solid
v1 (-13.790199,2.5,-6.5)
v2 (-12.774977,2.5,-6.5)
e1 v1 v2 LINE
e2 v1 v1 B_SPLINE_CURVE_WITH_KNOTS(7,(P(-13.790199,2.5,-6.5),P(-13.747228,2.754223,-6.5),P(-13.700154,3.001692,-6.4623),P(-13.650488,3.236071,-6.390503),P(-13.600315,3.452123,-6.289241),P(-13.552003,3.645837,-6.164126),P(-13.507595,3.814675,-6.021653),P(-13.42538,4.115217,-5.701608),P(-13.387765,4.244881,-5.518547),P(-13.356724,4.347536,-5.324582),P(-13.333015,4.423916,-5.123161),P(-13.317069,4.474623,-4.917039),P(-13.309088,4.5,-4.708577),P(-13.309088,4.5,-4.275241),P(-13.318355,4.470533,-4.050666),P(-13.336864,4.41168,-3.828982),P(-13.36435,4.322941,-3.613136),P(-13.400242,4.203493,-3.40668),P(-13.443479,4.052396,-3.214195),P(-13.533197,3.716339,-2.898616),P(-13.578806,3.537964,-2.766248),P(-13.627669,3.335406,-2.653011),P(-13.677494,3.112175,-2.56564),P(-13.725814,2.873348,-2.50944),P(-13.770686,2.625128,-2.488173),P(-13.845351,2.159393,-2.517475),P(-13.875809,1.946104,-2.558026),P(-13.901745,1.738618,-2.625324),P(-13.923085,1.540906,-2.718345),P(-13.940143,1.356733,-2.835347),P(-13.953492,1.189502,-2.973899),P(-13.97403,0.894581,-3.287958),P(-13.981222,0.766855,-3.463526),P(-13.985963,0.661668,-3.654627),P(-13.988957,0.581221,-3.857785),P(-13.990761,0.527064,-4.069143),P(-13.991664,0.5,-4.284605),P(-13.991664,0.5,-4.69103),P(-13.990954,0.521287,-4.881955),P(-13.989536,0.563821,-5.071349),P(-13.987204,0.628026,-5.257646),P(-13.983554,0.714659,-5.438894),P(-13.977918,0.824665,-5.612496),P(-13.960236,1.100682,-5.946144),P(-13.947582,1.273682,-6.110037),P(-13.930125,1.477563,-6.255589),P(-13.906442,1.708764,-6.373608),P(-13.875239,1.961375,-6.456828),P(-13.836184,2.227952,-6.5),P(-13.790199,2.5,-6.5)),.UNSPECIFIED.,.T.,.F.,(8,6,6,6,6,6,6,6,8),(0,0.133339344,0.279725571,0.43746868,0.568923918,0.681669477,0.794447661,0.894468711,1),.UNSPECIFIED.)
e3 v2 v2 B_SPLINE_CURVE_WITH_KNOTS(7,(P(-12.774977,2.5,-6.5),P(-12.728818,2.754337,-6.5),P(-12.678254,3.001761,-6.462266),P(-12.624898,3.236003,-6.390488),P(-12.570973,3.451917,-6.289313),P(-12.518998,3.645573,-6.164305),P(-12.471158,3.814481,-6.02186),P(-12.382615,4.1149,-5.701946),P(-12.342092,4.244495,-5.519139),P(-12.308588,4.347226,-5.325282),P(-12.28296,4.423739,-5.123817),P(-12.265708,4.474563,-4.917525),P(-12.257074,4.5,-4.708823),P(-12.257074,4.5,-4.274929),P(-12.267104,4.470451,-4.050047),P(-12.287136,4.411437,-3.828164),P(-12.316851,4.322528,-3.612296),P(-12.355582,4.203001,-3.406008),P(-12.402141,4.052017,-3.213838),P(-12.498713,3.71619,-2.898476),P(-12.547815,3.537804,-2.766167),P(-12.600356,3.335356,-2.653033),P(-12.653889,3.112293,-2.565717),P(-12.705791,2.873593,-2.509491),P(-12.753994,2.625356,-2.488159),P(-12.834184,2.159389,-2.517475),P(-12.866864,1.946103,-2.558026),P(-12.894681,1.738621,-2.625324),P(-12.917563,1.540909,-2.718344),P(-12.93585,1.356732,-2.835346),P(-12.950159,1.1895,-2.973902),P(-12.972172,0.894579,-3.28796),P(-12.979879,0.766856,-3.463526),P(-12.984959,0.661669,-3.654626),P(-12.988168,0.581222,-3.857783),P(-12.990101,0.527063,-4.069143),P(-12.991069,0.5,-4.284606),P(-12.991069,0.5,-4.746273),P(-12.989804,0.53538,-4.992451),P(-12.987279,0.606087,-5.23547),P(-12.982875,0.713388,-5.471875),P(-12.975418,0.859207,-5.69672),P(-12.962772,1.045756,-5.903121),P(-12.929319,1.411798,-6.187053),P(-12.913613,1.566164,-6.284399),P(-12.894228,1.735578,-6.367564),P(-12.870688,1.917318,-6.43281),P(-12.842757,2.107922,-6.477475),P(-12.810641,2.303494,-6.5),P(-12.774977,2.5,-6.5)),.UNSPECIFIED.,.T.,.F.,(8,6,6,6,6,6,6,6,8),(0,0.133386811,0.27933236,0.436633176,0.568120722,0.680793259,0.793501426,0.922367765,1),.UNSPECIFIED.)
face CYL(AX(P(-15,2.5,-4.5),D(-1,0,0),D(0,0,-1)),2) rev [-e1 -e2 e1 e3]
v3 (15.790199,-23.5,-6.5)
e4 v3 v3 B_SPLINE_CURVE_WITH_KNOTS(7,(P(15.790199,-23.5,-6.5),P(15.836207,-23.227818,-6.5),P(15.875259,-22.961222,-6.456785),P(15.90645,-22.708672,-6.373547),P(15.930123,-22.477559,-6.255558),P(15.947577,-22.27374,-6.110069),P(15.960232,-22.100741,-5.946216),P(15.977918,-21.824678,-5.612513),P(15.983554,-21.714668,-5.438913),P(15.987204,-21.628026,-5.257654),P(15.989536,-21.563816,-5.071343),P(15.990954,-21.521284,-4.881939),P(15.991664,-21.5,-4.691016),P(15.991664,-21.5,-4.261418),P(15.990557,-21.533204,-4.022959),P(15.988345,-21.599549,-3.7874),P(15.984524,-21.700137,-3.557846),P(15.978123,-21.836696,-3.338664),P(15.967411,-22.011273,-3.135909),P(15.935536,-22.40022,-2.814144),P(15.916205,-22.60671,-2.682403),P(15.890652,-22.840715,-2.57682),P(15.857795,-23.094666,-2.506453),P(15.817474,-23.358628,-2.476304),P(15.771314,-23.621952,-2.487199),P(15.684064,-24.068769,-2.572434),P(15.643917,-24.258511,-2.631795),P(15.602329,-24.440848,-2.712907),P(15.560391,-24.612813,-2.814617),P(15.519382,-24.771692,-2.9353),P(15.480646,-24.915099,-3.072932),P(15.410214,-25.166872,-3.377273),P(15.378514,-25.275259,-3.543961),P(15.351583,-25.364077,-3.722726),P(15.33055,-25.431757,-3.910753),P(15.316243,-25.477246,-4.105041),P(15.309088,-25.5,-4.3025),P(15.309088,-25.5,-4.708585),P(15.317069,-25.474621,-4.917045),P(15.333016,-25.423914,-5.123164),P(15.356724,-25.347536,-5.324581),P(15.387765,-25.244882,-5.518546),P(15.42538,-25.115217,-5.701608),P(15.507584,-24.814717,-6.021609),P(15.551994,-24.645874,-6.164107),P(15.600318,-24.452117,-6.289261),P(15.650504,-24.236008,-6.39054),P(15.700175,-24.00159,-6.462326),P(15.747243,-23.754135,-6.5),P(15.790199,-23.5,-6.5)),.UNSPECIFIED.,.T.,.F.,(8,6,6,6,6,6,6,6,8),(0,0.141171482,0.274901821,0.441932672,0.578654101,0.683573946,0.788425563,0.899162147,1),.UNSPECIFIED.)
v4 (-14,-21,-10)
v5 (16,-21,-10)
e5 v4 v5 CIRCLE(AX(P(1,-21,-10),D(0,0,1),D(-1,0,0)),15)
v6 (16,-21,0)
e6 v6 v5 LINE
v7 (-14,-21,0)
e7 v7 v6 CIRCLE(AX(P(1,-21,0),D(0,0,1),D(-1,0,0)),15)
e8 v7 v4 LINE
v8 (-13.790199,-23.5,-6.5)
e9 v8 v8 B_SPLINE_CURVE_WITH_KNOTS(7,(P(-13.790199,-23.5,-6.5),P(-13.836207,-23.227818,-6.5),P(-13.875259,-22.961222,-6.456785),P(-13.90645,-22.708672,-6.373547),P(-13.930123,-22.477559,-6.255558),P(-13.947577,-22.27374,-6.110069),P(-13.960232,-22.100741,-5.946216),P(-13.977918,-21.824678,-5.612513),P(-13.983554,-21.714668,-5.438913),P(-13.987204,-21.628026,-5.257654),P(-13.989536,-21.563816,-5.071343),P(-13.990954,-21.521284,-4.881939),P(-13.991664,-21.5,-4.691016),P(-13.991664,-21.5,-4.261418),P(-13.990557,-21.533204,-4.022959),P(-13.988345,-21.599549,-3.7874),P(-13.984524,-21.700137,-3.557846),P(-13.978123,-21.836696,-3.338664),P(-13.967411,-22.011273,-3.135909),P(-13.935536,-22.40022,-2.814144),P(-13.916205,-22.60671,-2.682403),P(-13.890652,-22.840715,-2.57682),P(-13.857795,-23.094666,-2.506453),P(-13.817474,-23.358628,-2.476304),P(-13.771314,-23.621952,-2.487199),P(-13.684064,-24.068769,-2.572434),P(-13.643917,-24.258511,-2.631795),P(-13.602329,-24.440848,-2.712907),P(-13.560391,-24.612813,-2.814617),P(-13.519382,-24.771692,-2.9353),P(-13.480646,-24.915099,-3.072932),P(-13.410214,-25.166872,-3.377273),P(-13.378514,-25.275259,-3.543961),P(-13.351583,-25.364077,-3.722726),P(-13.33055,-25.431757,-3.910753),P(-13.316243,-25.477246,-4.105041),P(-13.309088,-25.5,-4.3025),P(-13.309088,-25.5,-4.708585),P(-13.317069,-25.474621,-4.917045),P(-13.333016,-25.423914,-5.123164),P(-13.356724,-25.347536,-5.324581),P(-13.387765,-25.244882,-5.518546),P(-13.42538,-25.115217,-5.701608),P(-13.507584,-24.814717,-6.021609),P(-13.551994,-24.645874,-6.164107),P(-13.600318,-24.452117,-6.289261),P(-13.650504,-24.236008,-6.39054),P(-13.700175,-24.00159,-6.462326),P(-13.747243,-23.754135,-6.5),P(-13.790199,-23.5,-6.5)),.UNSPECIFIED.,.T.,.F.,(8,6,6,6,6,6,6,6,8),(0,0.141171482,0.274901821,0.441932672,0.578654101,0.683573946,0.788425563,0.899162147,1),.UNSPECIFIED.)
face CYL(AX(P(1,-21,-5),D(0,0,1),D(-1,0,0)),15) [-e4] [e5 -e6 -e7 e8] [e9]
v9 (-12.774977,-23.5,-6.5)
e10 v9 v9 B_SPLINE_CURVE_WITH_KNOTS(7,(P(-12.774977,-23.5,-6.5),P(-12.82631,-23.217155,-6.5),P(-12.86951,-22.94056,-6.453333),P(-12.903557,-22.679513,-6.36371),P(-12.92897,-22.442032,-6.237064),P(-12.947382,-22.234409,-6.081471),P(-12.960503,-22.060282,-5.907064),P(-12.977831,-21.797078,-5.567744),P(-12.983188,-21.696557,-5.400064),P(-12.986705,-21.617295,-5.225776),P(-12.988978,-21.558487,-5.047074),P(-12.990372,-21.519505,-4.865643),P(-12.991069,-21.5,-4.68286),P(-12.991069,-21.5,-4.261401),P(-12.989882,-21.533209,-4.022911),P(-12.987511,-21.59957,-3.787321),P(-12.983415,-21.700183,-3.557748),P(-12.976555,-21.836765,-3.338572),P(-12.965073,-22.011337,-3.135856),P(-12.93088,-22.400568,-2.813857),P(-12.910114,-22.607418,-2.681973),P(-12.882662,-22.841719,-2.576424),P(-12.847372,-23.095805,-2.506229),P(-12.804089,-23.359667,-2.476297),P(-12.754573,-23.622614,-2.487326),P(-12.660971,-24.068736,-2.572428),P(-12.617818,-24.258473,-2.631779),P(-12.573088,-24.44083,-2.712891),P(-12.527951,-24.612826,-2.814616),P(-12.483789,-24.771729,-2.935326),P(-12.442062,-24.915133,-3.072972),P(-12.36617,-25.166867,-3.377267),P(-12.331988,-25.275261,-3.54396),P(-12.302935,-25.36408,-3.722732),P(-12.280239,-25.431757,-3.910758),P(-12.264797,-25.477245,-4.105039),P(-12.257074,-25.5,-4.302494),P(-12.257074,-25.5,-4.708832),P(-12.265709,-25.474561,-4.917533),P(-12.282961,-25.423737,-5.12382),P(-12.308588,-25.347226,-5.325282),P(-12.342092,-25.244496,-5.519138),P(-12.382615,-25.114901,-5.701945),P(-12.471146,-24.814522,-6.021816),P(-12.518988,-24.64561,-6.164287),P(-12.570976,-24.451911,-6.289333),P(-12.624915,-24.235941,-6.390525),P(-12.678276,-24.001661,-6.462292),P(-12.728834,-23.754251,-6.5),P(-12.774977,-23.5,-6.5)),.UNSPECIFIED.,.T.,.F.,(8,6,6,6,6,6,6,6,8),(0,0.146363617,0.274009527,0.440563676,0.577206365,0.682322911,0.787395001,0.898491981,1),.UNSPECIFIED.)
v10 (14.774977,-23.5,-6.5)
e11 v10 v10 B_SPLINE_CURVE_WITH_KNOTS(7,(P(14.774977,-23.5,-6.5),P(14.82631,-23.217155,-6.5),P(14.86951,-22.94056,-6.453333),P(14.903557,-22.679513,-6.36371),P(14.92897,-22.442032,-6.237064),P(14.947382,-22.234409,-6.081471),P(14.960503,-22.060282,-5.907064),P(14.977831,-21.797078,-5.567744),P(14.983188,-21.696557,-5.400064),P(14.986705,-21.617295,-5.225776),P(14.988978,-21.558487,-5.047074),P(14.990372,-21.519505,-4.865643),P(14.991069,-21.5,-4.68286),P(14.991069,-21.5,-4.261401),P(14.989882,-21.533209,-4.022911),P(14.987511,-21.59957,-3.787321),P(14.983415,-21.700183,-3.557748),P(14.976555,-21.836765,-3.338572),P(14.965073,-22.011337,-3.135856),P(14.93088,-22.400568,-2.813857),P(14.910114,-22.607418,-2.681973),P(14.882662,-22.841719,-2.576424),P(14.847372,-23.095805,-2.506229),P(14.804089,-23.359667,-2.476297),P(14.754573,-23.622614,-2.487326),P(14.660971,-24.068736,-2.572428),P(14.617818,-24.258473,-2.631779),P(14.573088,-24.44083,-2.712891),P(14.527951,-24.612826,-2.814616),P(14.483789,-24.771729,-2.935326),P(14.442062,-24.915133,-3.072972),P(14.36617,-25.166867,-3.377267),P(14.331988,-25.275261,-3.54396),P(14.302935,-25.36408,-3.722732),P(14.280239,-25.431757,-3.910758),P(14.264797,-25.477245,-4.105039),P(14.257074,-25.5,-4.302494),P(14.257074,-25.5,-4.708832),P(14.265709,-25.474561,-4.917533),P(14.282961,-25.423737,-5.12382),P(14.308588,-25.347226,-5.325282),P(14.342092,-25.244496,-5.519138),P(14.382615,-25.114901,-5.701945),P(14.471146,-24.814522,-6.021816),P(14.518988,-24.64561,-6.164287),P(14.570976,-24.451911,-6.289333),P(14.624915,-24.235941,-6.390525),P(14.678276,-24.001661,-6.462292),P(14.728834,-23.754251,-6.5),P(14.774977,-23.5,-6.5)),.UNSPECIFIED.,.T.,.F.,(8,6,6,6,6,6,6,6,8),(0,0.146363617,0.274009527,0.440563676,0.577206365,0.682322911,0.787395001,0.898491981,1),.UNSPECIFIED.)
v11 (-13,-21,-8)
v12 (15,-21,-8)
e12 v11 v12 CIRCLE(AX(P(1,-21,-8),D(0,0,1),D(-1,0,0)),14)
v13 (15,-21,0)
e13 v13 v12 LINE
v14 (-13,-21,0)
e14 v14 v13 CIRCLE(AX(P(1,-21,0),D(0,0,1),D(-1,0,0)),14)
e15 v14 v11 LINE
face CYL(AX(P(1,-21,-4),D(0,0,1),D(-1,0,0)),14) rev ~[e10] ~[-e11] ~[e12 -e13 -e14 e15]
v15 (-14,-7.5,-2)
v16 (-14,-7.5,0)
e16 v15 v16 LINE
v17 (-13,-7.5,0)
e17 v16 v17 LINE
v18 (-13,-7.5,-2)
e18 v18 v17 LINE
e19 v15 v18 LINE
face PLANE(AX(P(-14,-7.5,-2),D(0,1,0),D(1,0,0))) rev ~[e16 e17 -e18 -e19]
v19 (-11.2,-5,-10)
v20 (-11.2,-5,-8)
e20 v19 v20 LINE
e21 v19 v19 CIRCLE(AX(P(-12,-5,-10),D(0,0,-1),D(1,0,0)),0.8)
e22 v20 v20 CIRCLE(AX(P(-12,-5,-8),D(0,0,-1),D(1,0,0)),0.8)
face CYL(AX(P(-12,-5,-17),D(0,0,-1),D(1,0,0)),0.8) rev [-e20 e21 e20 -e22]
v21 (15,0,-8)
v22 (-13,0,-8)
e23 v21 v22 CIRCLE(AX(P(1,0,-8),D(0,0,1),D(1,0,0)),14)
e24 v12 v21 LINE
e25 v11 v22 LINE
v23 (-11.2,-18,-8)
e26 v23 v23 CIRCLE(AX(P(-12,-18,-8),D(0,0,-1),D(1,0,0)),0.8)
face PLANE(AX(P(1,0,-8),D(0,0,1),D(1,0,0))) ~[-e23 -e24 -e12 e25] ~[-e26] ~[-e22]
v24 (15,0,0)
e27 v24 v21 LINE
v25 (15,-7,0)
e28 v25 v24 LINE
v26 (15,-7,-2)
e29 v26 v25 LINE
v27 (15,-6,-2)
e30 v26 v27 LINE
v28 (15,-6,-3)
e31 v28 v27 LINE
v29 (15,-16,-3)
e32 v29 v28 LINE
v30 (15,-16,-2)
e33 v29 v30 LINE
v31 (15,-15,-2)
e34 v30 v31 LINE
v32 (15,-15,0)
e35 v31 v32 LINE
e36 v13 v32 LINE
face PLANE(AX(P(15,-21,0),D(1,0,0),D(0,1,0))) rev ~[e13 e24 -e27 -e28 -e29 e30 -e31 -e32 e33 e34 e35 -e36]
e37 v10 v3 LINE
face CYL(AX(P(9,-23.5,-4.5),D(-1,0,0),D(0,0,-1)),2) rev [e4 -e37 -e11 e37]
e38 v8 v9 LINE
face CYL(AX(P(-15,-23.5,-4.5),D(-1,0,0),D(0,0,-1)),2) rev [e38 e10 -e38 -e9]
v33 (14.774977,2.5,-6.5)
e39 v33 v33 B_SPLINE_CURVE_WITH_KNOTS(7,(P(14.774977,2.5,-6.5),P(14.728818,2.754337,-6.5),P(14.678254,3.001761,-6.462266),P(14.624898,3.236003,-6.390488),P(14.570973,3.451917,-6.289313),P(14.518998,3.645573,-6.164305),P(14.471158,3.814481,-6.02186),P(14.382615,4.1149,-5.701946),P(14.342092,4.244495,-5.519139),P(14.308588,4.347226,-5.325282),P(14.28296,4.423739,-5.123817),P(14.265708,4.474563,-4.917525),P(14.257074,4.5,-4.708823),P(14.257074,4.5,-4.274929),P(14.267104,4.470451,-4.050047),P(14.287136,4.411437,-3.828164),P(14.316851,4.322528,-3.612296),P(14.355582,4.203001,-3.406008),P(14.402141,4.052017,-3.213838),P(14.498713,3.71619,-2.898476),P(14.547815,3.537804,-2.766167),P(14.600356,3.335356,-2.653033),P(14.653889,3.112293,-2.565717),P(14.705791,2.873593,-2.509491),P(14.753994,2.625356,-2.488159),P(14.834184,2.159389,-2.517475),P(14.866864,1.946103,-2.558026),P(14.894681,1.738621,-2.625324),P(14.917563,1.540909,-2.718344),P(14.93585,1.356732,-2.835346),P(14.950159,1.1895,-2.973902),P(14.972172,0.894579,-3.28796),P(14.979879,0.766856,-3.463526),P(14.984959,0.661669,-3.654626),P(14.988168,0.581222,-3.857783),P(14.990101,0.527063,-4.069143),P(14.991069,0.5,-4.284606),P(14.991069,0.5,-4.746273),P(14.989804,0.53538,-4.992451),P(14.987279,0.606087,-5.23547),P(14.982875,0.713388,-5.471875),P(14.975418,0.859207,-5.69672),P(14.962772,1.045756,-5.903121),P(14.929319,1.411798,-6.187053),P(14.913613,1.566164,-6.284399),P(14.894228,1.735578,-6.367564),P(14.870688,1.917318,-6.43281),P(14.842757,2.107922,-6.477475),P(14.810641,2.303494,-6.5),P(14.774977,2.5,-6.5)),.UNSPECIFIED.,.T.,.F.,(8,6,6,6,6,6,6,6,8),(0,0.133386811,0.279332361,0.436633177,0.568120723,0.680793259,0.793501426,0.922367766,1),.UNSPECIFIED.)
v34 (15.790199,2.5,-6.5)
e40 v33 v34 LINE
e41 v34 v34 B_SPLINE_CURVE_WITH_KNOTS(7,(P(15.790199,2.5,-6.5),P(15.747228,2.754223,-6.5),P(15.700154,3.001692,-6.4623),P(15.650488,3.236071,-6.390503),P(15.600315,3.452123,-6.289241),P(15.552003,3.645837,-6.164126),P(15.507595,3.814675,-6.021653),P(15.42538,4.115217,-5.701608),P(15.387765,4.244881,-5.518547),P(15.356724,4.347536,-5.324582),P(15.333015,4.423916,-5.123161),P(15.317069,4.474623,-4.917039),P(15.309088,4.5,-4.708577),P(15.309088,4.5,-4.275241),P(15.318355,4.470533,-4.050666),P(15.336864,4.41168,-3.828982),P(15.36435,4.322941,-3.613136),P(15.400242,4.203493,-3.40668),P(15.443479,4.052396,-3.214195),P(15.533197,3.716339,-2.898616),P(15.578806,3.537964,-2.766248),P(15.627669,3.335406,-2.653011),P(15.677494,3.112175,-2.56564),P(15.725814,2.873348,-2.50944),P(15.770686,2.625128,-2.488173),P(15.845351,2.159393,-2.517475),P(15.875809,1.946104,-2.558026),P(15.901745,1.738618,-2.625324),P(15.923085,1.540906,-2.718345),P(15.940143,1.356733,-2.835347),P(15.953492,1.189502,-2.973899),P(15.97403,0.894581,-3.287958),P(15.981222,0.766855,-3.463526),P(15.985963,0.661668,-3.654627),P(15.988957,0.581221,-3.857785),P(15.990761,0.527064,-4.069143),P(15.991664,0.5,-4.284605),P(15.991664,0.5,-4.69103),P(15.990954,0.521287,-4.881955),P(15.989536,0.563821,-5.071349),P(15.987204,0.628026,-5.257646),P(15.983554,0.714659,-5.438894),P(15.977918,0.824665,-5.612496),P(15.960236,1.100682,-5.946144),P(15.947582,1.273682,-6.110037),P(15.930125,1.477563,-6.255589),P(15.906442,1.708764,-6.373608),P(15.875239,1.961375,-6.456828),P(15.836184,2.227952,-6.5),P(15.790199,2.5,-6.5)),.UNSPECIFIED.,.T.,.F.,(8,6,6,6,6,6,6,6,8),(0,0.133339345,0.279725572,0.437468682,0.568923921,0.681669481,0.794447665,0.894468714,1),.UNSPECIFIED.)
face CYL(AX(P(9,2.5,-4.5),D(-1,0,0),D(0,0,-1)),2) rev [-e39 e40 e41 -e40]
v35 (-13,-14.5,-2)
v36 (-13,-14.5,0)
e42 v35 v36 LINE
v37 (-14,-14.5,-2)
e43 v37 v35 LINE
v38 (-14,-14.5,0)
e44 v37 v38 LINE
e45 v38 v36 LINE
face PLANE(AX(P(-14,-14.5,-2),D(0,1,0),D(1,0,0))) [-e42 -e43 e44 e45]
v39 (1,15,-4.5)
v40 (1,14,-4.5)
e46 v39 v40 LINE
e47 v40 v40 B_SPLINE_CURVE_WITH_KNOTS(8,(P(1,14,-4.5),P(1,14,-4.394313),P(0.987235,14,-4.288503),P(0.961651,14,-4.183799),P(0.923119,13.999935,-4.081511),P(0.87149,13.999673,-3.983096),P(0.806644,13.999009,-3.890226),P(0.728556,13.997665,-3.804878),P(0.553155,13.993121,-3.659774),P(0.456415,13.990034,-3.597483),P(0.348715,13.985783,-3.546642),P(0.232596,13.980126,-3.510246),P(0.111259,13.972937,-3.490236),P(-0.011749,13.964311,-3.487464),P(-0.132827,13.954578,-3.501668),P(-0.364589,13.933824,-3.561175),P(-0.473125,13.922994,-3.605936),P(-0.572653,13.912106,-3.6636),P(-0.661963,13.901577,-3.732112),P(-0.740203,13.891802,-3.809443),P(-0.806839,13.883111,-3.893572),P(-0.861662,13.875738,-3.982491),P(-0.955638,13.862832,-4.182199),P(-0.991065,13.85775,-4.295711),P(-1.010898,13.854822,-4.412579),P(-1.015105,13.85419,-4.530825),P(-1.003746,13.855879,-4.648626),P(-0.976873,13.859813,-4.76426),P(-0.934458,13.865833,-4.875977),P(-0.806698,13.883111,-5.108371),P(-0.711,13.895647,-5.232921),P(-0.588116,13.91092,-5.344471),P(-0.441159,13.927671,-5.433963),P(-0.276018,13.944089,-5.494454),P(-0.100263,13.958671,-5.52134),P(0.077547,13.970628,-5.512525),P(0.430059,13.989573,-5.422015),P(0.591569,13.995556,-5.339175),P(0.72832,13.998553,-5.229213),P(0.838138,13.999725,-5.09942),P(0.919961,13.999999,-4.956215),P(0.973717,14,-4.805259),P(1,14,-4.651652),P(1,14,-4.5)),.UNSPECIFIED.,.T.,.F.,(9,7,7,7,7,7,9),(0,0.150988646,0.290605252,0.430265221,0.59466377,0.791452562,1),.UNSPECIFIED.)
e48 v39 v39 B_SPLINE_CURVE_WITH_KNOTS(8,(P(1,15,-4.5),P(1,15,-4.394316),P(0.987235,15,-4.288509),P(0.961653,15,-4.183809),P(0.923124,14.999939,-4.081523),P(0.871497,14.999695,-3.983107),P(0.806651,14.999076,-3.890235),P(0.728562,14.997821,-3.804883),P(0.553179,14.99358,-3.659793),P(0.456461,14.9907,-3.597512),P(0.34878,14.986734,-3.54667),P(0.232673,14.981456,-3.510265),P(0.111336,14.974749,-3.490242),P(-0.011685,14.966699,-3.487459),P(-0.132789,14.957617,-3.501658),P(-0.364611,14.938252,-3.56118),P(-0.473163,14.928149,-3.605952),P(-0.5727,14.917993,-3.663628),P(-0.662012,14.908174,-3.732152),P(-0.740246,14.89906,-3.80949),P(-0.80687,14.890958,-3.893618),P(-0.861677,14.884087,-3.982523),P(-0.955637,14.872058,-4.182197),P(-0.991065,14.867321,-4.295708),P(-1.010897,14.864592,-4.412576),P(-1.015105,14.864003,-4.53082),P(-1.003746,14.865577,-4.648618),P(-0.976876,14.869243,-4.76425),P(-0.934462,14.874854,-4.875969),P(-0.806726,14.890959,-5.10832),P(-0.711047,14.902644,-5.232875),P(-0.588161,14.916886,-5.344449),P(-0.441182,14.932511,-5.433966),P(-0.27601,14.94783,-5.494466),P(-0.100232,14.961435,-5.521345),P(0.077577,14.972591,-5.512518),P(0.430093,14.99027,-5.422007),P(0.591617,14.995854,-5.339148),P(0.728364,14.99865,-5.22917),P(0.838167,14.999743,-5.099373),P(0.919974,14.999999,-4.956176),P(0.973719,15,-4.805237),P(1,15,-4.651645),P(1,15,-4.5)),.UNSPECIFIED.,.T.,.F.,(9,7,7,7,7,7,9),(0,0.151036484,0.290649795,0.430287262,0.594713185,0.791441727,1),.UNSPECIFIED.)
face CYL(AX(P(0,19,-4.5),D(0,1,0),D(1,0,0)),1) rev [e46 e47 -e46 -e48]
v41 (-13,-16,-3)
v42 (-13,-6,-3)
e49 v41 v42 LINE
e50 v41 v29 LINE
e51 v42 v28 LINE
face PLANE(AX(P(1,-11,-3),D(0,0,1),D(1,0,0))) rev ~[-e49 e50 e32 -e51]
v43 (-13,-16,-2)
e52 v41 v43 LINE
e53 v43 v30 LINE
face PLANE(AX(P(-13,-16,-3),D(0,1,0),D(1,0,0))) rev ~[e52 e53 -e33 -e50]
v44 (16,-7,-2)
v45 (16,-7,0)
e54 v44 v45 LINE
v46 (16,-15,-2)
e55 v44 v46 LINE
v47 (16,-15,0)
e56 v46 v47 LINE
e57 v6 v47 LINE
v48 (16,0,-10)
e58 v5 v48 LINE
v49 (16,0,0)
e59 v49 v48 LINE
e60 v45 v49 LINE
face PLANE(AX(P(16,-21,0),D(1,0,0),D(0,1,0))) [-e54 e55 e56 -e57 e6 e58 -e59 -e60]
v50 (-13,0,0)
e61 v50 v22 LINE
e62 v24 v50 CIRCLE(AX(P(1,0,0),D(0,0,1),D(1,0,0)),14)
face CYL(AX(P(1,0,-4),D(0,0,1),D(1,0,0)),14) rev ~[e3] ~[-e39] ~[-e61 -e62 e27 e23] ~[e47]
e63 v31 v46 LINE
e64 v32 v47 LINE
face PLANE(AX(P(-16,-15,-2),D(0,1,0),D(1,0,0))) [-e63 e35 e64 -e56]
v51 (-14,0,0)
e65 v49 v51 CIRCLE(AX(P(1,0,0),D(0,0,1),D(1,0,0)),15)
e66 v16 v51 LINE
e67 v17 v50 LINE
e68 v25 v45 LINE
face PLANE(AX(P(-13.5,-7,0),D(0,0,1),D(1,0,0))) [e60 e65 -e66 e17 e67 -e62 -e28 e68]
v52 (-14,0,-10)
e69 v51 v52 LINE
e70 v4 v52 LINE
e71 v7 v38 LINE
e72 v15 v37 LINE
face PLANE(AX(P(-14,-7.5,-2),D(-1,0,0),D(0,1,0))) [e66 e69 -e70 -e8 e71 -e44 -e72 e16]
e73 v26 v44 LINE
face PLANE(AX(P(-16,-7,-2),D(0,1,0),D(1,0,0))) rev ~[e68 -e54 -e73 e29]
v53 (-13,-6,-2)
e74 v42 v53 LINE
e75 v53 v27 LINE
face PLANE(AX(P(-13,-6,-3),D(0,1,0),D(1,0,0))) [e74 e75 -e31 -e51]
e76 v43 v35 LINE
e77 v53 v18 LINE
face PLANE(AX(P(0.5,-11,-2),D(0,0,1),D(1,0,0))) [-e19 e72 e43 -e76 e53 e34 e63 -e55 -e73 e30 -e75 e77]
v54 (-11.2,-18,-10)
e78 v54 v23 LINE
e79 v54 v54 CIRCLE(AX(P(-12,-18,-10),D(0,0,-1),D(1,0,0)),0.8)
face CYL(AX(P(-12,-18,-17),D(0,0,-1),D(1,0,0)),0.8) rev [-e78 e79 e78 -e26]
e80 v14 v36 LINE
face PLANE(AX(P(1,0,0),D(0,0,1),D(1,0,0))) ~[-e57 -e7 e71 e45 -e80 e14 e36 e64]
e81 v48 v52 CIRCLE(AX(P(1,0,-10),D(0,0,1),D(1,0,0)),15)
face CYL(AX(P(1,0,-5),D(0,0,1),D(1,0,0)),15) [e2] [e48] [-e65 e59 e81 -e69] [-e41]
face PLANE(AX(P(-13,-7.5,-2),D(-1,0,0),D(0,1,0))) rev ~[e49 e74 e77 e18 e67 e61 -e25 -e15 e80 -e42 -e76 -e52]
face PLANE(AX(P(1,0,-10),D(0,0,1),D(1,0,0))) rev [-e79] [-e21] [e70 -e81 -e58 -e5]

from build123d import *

# Parameters (mm, degrees)
CYLINDER053_R           = 0.8
CYLINDER053_DEPTH       = 10
CYLINDER052_R           = 0.8
CYLINDER052_DEPTH       = 10
BOX056_W                = 1
BOX056_H                = 1
BOX056_DEPTH            = 2
BOX057_W                = 1
BOX057_H                = 1
BOX057_DEPTH            = 2
CYLINDER037_R           = 1
CYLINDER037_DEPTH       = 10
CYLINDER037_ROLL_ANGLE  = 90
CYLINDER029_R           = 2
CYLINDER029_DEPTH       = 10
CYLINDER029_PITCH_ANGLE = 90
CYLINDER031_R           = 2
CYLINDER031_DEPTH       = 10
CYLINDER031_PITCH_ANGLE = 90
CYLINDER030_R           = 2
CYLINDER030_DEPTH       = 10
CYLINDER030_PITCH_ANGLE = 90
CYLINDER028_R           = 2
CYLINDER028_DEPTH       = 10
CYLINDER028_PITCH_ANGLE = 90
BOX012_W                = 33
BOX012_H                = 8
BOX012_DEPTH            = 2
CYLINDER002_W           = 14
CYLINDER002_H           = 8
CYLINDER002_ANGLE       = 180
CYLINDER001_W           = 15
CYLINDER001_H           = 10
CYLINDER001_ANGLE       = 180
CYLINDER003_W           = 14
CYLINDER003_H           = 8
CYLINDER003_ANGLE       = 180
CYLINDER_W              = 15
CYLINDER_H              = 10
CYLINDER_ANGLE          = 180
BOX001_W                = 28
BOX001_H                = 21
BOX001_DEPTH            = 8
BOX_W                   = 30
BOX_H                   = 21
BOX_DEPTH               = 10
FUSION_PLACEMENT_ANGLE  = 180
BOX013_W                = 28
BOX013_H                = 10
BOX013_DEPTH            = 2
BOX011_W                = 28
BOX011_H                = 10
BOX011_DEPTH            = 3


with BuildPart() as cilindro053:
    # Cylinder053 → Cylinder053 (new body)
    with BuildSketch(Plane(origin=(-12, -18, -17), x_dir=(1, 0, 0), z_dir=(0, 0, 1))):
        Circle(CYLINDER053_R)
    extrude(amount=CYLINDER053_DEPTH)


with BuildPart() as cilindro052:
    # Cylinder052 → Cylinder052 (new body)
    with BuildSketch(Plane(origin=(-12, -5, -17), x_dir=(1, 0, 0), z_dir=(0, 0, 1))):
        Circle(CYLINDER052_R)
    extrude(amount=CYLINDER052_DEPTH)


with BuildPart() as cubo056:
    # Box056 → Box056 (new body)
    with BuildSketch(Plane(origin=(-14, -7.5, -2), x_dir=(1, 0, 0), z_dir=(0, 0, 1))):
        with Locations((0.5, 0.5)):
            Rectangle(BOX056_W, BOX056_H)
    extrude(amount=BOX056_DEPTH)


with BuildPart() as cubo057:
    # Box057 → Box057 (new body)
    with BuildSketch(Plane(origin=(-14, -15.5, -2), x_dir=(1, 0, 0), z_dir=(0, 0, 1))):
        with Locations((0.5, 0.5)):
            Rectangle(BOX057_W, BOX057_H)
    extrude(amount=BOX057_DEPTH)


with BuildPart() as cilindro037:
    # Cylinder037 → Cylinder037 (new body)
    with BuildSketch(Plane.XY):
        Circle(CYLINDER037_R)
    extrude(amount=CYLINDER037_DEPTH)


with BuildPart() as cilindro037_1:
    # Cylinder037 roll: moved
    add(cilindro037.part.rotate(Axis((0, 0, 0), (1, 0, 0)), CYLINDER037_ROLL_ANGLE))


with BuildPart() as cilindro037_2:
    # Cylinder037 placement: moved
    add(cilindro037_1.part.moved(Location((-14, 89, 39.5))))


with BuildPart() as cilindro029:
    # Cylinder029 → Cylinder029 (new body)
    with BuildSketch(Plane.XY):
        Circle(CYLINDER029_R)
    extrude(amount=CYLINDER029_DEPTH)


with BuildPart() as cilindro029_1:
    # Cylinder029 pitch: moved
    add(cilindro029.part.rotate(Axis((0, 0, 0), (0, 1, 0)), CYLINDER029_PITCH_ANGLE))


with BuildPart() as cilindro029_2:
    # Cylinder029 placement: moved
    add(cilindro029_1.part.moved(Location((-29, 46.5, 39.5))))


with BuildPart() as cilindro031:
    # Cylinder031 → Cylinder031 (new body)
    with BuildSketch(Plane.XY):
        Circle(CYLINDER031_R)
    extrude(amount=CYLINDER031_DEPTH)


with BuildPart() as cilindro031_1:
    # Cylinder031 pitch: moved
    add(cilindro031.part.rotate(Axis((0, 0, 0), (0, 1, 0)), CYLINDER031_PITCH_ANGLE))


with BuildPart() as cilindro031_2:
    # Cylinder031 placement: moved
    add(cilindro031_1.part.moved(Location((-5, 72.5, 39.5))))


with BuildPart() as cilindro030:
    # Cylinder030 → Cylinder030 (new body)
    with BuildSketch(Plane.XY):
        Circle(CYLINDER030_R)
    extrude(amount=CYLINDER030_DEPTH)


with BuildPart() as cilindro030_1:
    # Cylinder030 pitch: moved
    add(cilindro030.part.rotate(Axis((0, 0, 0), (0, 1, 0)), CYLINDER030_PITCH_ANGLE))


with BuildPart() as cilindro030_2:
    # Cylinder030 placement: moved
    add(cilindro030_1.part.moved(Location((-5, 46.5, 39.5))))


with BuildPart() as cilindro028:
    # Cylinder028 → Cylinder028 (new body)
    with BuildSketch(Plane.XY):
        Circle(CYLINDER028_R)
    extrude(amount=CYLINDER028_DEPTH)


with BuildPart() as cilindro028_1:
    # Cylinder028 pitch: moved
    add(cilindro028.part.rotate(Axis((0, 0, 0), (0, 1, 0)), CYLINDER028_PITCH_ANGLE))


with BuildPart() as cilindro028_2:
    # Cylinder028 placement: moved
    add(cilindro028_1.part.moved(Location((-29, 72.5, 39.5))))


with BuildPart() as cubo012:
    # Box012 → Box012 (new body)
    with BuildSketch(Plane(origin=(-30, 55, 42), x_dir=(1, 0, 0), z_dir=(0, 0, 1))):
        with Locations((16.5, 4)):
            Rectangle(BOX012_W, BOX012_H)
    extrude(amount=BOX012_DEPTH)


with BuildPart() as cilindro002:
    # Cylinder002 → Cylinder002 (revolve)
    with BuildSketch(Plane(origin=(16, 49, -36), x_dir=(1, 0, 0), z_dir=(0, 1, 0))):
        with Locations((7, 4)):
            Rectangle(CYLINDER002_W, CYLINDER002_H)
    revolve(axis=Axis((16, 49, -36), (0, 0, -1)), revolution_arc=CYLINDER002_ANGLE)


with BuildPart() as cut001:
    # Cylinder001 → Cylinder001 (revolve)
    with BuildSketch(Plane(origin=(16, 49, -34), x_dir=(1, 0, 0), z_dir=(0, 1, 0))):
        with Locations((7.5, 5)):
            Rectangle(CYLINDER001_W, CYLINDER001_H)
    revolve(axis=Axis((16, 49, -34), (0, 0, -1)), revolution_arc=CYLINDER001_ANGLE)

    # Cut001: cut Cilindro002
    add(cilindro002.part, mode=Mode.SUBTRACT)


with BuildPart() as cut001_1:
    # Cut001 placement: moved
    add(cut001.part.moved(Location((-3, 0, 0))))


with BuildPart() as cilindro003:
    # Cylinder003 → Cylinder003 (revolve)
    with BuildSketch(Plane(origin=(13, 70, -36), x_dir=(-1, 0, 0), z_dir=(0, -1, 0))):
        with Locations((7, 4)):
            Rectangle(CYLINDER003_W, CYLINDER003_H)
    revolve(axis=Axis((13, 70, -36), (0, 0, -1)), revolution_arc=CYLINDER003_ANGLE)


with BuildPart() as cut002:
    # Cylinder → Cylinder (revolve)
    with BuildSketch(Plane(origin=(13, 70, -34), x_dir=(-1, 0, 0), z_dir=(0, -1, 0))):
        with Locations((7.5, 5)):
            Rectangle(CYLINDER_W, CYLINDER_H)
    revolve(axis=Axis((13, 70, -34), (0, 0, -1)), revolution_arc=CYLINDER_ANGLE)

    # Cut002: cut Cilindro003
    add(cilindro003.part, mode=Mode.SUBTRACT)


with BuildPart() as cubo001:
    # Box001 → Box001 (new body)
    with BuildSketch(Plane(origin=(-1, 49, -44), x_dir=(1, 0, 0), z_dir=(0, 0, 1))):
        with Locations((14, 10.5)):
            Rectangle(BOX001_W, BOX001_H)
    extrude(amount=BOX001_DEPTH)


with BuildPart() as cut058:
    # Box → Box (new body)
    with BuildSketch(Plane(origin=(-2, 49, -44), x_dir=(1, 0, 0), z_dir=(0, 0, 1))):
        with Locations((15, 10.5)):
            Rectangle(BOX_W, BOX_H)
    extrude(amount=BOX_DEPTH)

    # Cut: cut Cubo001
    add(cubo001.part, mode=Mode.SUBTRACT)

    # Fusion: union Cut001, Cut002
    add(cut001_1.part)
    add(cut002.part)


with BuildPart() as cut058_1:
    # Fusion placement: moved
    add(cut058.part.rotate(Axis((0, 0, 0), (0, 1, 0)), FUSION_PLACEMENT_ANGLE))

    # Cut003: cut Cubo012
    add(cubo012.part, mode=Mode.SUBTRACT)

    # Cut040: cut Cilindro028
    add(cilindro028_2.part, mode=Mode.SUBTRACT)

    # Cut041: cut Cilindro030
    add(cilindro030_2.part, mode=Mode.SUBTRACT)

    # Cut042: cut Cilindro031
    add(cilindro031_2.part, mode=Mode.SUBTRACT)

    # Cut043: cut Cilindro029
    add(cilindro029_2.part, mode=Mode.SUBTRACT)

    # Cut058: cut Cilindro037
    add(cilindro037_2.part, mode=Mode.SUBTRACT)


with BuildPart() as cubo013:
    # Box013 → Box013 (new body)
    with BuildSketch(Plane(origin=(-27, 54, 42), x_dir=(1, 0, 0), z_dir=(0, 0, 1))):
        with Locations((14, 5)):
            Rectangle(BOX013_W, BOX013_H)
    extrude(amount=BOX013_DEPTH)


with BuildPart() as cut077:
    # Box011 → Box011 (new body)
    with BuildSketch(Plane(origin=(-27, 54, 41), x_dir=(1, 0, 0), z_dir=(0, 0, 1))):
        with Locations((14, 5)):
            Rectangle(BOX011_W, BOX011_H)
    extrude(amount=BOX011_DEPTH)

    # Cut004: cut Cubo013
    add(cubo013.part, mode=Mode.SUBTRACT)

    # Fusion002022: union Cut058
    add(cut058_1.part)


with BuildPart() as cut077_1:
    # Fusion002022 placement: moved
    add(cut077.part.moved(Location((14, -70, -44))))

    # Fusion002031: union Cubo056, Cubo057
    add(cubo056.part)
    add(cubo057.part)

    # Cut076: cut Cilindro052
    add(cilindro052.part, mode=Mode.SUBTRACT)

    # Cut077: cut Cilindro053
    add(cilindro053.part, mode=Mode.SUBTRACT)


solid = cut077_1.part
